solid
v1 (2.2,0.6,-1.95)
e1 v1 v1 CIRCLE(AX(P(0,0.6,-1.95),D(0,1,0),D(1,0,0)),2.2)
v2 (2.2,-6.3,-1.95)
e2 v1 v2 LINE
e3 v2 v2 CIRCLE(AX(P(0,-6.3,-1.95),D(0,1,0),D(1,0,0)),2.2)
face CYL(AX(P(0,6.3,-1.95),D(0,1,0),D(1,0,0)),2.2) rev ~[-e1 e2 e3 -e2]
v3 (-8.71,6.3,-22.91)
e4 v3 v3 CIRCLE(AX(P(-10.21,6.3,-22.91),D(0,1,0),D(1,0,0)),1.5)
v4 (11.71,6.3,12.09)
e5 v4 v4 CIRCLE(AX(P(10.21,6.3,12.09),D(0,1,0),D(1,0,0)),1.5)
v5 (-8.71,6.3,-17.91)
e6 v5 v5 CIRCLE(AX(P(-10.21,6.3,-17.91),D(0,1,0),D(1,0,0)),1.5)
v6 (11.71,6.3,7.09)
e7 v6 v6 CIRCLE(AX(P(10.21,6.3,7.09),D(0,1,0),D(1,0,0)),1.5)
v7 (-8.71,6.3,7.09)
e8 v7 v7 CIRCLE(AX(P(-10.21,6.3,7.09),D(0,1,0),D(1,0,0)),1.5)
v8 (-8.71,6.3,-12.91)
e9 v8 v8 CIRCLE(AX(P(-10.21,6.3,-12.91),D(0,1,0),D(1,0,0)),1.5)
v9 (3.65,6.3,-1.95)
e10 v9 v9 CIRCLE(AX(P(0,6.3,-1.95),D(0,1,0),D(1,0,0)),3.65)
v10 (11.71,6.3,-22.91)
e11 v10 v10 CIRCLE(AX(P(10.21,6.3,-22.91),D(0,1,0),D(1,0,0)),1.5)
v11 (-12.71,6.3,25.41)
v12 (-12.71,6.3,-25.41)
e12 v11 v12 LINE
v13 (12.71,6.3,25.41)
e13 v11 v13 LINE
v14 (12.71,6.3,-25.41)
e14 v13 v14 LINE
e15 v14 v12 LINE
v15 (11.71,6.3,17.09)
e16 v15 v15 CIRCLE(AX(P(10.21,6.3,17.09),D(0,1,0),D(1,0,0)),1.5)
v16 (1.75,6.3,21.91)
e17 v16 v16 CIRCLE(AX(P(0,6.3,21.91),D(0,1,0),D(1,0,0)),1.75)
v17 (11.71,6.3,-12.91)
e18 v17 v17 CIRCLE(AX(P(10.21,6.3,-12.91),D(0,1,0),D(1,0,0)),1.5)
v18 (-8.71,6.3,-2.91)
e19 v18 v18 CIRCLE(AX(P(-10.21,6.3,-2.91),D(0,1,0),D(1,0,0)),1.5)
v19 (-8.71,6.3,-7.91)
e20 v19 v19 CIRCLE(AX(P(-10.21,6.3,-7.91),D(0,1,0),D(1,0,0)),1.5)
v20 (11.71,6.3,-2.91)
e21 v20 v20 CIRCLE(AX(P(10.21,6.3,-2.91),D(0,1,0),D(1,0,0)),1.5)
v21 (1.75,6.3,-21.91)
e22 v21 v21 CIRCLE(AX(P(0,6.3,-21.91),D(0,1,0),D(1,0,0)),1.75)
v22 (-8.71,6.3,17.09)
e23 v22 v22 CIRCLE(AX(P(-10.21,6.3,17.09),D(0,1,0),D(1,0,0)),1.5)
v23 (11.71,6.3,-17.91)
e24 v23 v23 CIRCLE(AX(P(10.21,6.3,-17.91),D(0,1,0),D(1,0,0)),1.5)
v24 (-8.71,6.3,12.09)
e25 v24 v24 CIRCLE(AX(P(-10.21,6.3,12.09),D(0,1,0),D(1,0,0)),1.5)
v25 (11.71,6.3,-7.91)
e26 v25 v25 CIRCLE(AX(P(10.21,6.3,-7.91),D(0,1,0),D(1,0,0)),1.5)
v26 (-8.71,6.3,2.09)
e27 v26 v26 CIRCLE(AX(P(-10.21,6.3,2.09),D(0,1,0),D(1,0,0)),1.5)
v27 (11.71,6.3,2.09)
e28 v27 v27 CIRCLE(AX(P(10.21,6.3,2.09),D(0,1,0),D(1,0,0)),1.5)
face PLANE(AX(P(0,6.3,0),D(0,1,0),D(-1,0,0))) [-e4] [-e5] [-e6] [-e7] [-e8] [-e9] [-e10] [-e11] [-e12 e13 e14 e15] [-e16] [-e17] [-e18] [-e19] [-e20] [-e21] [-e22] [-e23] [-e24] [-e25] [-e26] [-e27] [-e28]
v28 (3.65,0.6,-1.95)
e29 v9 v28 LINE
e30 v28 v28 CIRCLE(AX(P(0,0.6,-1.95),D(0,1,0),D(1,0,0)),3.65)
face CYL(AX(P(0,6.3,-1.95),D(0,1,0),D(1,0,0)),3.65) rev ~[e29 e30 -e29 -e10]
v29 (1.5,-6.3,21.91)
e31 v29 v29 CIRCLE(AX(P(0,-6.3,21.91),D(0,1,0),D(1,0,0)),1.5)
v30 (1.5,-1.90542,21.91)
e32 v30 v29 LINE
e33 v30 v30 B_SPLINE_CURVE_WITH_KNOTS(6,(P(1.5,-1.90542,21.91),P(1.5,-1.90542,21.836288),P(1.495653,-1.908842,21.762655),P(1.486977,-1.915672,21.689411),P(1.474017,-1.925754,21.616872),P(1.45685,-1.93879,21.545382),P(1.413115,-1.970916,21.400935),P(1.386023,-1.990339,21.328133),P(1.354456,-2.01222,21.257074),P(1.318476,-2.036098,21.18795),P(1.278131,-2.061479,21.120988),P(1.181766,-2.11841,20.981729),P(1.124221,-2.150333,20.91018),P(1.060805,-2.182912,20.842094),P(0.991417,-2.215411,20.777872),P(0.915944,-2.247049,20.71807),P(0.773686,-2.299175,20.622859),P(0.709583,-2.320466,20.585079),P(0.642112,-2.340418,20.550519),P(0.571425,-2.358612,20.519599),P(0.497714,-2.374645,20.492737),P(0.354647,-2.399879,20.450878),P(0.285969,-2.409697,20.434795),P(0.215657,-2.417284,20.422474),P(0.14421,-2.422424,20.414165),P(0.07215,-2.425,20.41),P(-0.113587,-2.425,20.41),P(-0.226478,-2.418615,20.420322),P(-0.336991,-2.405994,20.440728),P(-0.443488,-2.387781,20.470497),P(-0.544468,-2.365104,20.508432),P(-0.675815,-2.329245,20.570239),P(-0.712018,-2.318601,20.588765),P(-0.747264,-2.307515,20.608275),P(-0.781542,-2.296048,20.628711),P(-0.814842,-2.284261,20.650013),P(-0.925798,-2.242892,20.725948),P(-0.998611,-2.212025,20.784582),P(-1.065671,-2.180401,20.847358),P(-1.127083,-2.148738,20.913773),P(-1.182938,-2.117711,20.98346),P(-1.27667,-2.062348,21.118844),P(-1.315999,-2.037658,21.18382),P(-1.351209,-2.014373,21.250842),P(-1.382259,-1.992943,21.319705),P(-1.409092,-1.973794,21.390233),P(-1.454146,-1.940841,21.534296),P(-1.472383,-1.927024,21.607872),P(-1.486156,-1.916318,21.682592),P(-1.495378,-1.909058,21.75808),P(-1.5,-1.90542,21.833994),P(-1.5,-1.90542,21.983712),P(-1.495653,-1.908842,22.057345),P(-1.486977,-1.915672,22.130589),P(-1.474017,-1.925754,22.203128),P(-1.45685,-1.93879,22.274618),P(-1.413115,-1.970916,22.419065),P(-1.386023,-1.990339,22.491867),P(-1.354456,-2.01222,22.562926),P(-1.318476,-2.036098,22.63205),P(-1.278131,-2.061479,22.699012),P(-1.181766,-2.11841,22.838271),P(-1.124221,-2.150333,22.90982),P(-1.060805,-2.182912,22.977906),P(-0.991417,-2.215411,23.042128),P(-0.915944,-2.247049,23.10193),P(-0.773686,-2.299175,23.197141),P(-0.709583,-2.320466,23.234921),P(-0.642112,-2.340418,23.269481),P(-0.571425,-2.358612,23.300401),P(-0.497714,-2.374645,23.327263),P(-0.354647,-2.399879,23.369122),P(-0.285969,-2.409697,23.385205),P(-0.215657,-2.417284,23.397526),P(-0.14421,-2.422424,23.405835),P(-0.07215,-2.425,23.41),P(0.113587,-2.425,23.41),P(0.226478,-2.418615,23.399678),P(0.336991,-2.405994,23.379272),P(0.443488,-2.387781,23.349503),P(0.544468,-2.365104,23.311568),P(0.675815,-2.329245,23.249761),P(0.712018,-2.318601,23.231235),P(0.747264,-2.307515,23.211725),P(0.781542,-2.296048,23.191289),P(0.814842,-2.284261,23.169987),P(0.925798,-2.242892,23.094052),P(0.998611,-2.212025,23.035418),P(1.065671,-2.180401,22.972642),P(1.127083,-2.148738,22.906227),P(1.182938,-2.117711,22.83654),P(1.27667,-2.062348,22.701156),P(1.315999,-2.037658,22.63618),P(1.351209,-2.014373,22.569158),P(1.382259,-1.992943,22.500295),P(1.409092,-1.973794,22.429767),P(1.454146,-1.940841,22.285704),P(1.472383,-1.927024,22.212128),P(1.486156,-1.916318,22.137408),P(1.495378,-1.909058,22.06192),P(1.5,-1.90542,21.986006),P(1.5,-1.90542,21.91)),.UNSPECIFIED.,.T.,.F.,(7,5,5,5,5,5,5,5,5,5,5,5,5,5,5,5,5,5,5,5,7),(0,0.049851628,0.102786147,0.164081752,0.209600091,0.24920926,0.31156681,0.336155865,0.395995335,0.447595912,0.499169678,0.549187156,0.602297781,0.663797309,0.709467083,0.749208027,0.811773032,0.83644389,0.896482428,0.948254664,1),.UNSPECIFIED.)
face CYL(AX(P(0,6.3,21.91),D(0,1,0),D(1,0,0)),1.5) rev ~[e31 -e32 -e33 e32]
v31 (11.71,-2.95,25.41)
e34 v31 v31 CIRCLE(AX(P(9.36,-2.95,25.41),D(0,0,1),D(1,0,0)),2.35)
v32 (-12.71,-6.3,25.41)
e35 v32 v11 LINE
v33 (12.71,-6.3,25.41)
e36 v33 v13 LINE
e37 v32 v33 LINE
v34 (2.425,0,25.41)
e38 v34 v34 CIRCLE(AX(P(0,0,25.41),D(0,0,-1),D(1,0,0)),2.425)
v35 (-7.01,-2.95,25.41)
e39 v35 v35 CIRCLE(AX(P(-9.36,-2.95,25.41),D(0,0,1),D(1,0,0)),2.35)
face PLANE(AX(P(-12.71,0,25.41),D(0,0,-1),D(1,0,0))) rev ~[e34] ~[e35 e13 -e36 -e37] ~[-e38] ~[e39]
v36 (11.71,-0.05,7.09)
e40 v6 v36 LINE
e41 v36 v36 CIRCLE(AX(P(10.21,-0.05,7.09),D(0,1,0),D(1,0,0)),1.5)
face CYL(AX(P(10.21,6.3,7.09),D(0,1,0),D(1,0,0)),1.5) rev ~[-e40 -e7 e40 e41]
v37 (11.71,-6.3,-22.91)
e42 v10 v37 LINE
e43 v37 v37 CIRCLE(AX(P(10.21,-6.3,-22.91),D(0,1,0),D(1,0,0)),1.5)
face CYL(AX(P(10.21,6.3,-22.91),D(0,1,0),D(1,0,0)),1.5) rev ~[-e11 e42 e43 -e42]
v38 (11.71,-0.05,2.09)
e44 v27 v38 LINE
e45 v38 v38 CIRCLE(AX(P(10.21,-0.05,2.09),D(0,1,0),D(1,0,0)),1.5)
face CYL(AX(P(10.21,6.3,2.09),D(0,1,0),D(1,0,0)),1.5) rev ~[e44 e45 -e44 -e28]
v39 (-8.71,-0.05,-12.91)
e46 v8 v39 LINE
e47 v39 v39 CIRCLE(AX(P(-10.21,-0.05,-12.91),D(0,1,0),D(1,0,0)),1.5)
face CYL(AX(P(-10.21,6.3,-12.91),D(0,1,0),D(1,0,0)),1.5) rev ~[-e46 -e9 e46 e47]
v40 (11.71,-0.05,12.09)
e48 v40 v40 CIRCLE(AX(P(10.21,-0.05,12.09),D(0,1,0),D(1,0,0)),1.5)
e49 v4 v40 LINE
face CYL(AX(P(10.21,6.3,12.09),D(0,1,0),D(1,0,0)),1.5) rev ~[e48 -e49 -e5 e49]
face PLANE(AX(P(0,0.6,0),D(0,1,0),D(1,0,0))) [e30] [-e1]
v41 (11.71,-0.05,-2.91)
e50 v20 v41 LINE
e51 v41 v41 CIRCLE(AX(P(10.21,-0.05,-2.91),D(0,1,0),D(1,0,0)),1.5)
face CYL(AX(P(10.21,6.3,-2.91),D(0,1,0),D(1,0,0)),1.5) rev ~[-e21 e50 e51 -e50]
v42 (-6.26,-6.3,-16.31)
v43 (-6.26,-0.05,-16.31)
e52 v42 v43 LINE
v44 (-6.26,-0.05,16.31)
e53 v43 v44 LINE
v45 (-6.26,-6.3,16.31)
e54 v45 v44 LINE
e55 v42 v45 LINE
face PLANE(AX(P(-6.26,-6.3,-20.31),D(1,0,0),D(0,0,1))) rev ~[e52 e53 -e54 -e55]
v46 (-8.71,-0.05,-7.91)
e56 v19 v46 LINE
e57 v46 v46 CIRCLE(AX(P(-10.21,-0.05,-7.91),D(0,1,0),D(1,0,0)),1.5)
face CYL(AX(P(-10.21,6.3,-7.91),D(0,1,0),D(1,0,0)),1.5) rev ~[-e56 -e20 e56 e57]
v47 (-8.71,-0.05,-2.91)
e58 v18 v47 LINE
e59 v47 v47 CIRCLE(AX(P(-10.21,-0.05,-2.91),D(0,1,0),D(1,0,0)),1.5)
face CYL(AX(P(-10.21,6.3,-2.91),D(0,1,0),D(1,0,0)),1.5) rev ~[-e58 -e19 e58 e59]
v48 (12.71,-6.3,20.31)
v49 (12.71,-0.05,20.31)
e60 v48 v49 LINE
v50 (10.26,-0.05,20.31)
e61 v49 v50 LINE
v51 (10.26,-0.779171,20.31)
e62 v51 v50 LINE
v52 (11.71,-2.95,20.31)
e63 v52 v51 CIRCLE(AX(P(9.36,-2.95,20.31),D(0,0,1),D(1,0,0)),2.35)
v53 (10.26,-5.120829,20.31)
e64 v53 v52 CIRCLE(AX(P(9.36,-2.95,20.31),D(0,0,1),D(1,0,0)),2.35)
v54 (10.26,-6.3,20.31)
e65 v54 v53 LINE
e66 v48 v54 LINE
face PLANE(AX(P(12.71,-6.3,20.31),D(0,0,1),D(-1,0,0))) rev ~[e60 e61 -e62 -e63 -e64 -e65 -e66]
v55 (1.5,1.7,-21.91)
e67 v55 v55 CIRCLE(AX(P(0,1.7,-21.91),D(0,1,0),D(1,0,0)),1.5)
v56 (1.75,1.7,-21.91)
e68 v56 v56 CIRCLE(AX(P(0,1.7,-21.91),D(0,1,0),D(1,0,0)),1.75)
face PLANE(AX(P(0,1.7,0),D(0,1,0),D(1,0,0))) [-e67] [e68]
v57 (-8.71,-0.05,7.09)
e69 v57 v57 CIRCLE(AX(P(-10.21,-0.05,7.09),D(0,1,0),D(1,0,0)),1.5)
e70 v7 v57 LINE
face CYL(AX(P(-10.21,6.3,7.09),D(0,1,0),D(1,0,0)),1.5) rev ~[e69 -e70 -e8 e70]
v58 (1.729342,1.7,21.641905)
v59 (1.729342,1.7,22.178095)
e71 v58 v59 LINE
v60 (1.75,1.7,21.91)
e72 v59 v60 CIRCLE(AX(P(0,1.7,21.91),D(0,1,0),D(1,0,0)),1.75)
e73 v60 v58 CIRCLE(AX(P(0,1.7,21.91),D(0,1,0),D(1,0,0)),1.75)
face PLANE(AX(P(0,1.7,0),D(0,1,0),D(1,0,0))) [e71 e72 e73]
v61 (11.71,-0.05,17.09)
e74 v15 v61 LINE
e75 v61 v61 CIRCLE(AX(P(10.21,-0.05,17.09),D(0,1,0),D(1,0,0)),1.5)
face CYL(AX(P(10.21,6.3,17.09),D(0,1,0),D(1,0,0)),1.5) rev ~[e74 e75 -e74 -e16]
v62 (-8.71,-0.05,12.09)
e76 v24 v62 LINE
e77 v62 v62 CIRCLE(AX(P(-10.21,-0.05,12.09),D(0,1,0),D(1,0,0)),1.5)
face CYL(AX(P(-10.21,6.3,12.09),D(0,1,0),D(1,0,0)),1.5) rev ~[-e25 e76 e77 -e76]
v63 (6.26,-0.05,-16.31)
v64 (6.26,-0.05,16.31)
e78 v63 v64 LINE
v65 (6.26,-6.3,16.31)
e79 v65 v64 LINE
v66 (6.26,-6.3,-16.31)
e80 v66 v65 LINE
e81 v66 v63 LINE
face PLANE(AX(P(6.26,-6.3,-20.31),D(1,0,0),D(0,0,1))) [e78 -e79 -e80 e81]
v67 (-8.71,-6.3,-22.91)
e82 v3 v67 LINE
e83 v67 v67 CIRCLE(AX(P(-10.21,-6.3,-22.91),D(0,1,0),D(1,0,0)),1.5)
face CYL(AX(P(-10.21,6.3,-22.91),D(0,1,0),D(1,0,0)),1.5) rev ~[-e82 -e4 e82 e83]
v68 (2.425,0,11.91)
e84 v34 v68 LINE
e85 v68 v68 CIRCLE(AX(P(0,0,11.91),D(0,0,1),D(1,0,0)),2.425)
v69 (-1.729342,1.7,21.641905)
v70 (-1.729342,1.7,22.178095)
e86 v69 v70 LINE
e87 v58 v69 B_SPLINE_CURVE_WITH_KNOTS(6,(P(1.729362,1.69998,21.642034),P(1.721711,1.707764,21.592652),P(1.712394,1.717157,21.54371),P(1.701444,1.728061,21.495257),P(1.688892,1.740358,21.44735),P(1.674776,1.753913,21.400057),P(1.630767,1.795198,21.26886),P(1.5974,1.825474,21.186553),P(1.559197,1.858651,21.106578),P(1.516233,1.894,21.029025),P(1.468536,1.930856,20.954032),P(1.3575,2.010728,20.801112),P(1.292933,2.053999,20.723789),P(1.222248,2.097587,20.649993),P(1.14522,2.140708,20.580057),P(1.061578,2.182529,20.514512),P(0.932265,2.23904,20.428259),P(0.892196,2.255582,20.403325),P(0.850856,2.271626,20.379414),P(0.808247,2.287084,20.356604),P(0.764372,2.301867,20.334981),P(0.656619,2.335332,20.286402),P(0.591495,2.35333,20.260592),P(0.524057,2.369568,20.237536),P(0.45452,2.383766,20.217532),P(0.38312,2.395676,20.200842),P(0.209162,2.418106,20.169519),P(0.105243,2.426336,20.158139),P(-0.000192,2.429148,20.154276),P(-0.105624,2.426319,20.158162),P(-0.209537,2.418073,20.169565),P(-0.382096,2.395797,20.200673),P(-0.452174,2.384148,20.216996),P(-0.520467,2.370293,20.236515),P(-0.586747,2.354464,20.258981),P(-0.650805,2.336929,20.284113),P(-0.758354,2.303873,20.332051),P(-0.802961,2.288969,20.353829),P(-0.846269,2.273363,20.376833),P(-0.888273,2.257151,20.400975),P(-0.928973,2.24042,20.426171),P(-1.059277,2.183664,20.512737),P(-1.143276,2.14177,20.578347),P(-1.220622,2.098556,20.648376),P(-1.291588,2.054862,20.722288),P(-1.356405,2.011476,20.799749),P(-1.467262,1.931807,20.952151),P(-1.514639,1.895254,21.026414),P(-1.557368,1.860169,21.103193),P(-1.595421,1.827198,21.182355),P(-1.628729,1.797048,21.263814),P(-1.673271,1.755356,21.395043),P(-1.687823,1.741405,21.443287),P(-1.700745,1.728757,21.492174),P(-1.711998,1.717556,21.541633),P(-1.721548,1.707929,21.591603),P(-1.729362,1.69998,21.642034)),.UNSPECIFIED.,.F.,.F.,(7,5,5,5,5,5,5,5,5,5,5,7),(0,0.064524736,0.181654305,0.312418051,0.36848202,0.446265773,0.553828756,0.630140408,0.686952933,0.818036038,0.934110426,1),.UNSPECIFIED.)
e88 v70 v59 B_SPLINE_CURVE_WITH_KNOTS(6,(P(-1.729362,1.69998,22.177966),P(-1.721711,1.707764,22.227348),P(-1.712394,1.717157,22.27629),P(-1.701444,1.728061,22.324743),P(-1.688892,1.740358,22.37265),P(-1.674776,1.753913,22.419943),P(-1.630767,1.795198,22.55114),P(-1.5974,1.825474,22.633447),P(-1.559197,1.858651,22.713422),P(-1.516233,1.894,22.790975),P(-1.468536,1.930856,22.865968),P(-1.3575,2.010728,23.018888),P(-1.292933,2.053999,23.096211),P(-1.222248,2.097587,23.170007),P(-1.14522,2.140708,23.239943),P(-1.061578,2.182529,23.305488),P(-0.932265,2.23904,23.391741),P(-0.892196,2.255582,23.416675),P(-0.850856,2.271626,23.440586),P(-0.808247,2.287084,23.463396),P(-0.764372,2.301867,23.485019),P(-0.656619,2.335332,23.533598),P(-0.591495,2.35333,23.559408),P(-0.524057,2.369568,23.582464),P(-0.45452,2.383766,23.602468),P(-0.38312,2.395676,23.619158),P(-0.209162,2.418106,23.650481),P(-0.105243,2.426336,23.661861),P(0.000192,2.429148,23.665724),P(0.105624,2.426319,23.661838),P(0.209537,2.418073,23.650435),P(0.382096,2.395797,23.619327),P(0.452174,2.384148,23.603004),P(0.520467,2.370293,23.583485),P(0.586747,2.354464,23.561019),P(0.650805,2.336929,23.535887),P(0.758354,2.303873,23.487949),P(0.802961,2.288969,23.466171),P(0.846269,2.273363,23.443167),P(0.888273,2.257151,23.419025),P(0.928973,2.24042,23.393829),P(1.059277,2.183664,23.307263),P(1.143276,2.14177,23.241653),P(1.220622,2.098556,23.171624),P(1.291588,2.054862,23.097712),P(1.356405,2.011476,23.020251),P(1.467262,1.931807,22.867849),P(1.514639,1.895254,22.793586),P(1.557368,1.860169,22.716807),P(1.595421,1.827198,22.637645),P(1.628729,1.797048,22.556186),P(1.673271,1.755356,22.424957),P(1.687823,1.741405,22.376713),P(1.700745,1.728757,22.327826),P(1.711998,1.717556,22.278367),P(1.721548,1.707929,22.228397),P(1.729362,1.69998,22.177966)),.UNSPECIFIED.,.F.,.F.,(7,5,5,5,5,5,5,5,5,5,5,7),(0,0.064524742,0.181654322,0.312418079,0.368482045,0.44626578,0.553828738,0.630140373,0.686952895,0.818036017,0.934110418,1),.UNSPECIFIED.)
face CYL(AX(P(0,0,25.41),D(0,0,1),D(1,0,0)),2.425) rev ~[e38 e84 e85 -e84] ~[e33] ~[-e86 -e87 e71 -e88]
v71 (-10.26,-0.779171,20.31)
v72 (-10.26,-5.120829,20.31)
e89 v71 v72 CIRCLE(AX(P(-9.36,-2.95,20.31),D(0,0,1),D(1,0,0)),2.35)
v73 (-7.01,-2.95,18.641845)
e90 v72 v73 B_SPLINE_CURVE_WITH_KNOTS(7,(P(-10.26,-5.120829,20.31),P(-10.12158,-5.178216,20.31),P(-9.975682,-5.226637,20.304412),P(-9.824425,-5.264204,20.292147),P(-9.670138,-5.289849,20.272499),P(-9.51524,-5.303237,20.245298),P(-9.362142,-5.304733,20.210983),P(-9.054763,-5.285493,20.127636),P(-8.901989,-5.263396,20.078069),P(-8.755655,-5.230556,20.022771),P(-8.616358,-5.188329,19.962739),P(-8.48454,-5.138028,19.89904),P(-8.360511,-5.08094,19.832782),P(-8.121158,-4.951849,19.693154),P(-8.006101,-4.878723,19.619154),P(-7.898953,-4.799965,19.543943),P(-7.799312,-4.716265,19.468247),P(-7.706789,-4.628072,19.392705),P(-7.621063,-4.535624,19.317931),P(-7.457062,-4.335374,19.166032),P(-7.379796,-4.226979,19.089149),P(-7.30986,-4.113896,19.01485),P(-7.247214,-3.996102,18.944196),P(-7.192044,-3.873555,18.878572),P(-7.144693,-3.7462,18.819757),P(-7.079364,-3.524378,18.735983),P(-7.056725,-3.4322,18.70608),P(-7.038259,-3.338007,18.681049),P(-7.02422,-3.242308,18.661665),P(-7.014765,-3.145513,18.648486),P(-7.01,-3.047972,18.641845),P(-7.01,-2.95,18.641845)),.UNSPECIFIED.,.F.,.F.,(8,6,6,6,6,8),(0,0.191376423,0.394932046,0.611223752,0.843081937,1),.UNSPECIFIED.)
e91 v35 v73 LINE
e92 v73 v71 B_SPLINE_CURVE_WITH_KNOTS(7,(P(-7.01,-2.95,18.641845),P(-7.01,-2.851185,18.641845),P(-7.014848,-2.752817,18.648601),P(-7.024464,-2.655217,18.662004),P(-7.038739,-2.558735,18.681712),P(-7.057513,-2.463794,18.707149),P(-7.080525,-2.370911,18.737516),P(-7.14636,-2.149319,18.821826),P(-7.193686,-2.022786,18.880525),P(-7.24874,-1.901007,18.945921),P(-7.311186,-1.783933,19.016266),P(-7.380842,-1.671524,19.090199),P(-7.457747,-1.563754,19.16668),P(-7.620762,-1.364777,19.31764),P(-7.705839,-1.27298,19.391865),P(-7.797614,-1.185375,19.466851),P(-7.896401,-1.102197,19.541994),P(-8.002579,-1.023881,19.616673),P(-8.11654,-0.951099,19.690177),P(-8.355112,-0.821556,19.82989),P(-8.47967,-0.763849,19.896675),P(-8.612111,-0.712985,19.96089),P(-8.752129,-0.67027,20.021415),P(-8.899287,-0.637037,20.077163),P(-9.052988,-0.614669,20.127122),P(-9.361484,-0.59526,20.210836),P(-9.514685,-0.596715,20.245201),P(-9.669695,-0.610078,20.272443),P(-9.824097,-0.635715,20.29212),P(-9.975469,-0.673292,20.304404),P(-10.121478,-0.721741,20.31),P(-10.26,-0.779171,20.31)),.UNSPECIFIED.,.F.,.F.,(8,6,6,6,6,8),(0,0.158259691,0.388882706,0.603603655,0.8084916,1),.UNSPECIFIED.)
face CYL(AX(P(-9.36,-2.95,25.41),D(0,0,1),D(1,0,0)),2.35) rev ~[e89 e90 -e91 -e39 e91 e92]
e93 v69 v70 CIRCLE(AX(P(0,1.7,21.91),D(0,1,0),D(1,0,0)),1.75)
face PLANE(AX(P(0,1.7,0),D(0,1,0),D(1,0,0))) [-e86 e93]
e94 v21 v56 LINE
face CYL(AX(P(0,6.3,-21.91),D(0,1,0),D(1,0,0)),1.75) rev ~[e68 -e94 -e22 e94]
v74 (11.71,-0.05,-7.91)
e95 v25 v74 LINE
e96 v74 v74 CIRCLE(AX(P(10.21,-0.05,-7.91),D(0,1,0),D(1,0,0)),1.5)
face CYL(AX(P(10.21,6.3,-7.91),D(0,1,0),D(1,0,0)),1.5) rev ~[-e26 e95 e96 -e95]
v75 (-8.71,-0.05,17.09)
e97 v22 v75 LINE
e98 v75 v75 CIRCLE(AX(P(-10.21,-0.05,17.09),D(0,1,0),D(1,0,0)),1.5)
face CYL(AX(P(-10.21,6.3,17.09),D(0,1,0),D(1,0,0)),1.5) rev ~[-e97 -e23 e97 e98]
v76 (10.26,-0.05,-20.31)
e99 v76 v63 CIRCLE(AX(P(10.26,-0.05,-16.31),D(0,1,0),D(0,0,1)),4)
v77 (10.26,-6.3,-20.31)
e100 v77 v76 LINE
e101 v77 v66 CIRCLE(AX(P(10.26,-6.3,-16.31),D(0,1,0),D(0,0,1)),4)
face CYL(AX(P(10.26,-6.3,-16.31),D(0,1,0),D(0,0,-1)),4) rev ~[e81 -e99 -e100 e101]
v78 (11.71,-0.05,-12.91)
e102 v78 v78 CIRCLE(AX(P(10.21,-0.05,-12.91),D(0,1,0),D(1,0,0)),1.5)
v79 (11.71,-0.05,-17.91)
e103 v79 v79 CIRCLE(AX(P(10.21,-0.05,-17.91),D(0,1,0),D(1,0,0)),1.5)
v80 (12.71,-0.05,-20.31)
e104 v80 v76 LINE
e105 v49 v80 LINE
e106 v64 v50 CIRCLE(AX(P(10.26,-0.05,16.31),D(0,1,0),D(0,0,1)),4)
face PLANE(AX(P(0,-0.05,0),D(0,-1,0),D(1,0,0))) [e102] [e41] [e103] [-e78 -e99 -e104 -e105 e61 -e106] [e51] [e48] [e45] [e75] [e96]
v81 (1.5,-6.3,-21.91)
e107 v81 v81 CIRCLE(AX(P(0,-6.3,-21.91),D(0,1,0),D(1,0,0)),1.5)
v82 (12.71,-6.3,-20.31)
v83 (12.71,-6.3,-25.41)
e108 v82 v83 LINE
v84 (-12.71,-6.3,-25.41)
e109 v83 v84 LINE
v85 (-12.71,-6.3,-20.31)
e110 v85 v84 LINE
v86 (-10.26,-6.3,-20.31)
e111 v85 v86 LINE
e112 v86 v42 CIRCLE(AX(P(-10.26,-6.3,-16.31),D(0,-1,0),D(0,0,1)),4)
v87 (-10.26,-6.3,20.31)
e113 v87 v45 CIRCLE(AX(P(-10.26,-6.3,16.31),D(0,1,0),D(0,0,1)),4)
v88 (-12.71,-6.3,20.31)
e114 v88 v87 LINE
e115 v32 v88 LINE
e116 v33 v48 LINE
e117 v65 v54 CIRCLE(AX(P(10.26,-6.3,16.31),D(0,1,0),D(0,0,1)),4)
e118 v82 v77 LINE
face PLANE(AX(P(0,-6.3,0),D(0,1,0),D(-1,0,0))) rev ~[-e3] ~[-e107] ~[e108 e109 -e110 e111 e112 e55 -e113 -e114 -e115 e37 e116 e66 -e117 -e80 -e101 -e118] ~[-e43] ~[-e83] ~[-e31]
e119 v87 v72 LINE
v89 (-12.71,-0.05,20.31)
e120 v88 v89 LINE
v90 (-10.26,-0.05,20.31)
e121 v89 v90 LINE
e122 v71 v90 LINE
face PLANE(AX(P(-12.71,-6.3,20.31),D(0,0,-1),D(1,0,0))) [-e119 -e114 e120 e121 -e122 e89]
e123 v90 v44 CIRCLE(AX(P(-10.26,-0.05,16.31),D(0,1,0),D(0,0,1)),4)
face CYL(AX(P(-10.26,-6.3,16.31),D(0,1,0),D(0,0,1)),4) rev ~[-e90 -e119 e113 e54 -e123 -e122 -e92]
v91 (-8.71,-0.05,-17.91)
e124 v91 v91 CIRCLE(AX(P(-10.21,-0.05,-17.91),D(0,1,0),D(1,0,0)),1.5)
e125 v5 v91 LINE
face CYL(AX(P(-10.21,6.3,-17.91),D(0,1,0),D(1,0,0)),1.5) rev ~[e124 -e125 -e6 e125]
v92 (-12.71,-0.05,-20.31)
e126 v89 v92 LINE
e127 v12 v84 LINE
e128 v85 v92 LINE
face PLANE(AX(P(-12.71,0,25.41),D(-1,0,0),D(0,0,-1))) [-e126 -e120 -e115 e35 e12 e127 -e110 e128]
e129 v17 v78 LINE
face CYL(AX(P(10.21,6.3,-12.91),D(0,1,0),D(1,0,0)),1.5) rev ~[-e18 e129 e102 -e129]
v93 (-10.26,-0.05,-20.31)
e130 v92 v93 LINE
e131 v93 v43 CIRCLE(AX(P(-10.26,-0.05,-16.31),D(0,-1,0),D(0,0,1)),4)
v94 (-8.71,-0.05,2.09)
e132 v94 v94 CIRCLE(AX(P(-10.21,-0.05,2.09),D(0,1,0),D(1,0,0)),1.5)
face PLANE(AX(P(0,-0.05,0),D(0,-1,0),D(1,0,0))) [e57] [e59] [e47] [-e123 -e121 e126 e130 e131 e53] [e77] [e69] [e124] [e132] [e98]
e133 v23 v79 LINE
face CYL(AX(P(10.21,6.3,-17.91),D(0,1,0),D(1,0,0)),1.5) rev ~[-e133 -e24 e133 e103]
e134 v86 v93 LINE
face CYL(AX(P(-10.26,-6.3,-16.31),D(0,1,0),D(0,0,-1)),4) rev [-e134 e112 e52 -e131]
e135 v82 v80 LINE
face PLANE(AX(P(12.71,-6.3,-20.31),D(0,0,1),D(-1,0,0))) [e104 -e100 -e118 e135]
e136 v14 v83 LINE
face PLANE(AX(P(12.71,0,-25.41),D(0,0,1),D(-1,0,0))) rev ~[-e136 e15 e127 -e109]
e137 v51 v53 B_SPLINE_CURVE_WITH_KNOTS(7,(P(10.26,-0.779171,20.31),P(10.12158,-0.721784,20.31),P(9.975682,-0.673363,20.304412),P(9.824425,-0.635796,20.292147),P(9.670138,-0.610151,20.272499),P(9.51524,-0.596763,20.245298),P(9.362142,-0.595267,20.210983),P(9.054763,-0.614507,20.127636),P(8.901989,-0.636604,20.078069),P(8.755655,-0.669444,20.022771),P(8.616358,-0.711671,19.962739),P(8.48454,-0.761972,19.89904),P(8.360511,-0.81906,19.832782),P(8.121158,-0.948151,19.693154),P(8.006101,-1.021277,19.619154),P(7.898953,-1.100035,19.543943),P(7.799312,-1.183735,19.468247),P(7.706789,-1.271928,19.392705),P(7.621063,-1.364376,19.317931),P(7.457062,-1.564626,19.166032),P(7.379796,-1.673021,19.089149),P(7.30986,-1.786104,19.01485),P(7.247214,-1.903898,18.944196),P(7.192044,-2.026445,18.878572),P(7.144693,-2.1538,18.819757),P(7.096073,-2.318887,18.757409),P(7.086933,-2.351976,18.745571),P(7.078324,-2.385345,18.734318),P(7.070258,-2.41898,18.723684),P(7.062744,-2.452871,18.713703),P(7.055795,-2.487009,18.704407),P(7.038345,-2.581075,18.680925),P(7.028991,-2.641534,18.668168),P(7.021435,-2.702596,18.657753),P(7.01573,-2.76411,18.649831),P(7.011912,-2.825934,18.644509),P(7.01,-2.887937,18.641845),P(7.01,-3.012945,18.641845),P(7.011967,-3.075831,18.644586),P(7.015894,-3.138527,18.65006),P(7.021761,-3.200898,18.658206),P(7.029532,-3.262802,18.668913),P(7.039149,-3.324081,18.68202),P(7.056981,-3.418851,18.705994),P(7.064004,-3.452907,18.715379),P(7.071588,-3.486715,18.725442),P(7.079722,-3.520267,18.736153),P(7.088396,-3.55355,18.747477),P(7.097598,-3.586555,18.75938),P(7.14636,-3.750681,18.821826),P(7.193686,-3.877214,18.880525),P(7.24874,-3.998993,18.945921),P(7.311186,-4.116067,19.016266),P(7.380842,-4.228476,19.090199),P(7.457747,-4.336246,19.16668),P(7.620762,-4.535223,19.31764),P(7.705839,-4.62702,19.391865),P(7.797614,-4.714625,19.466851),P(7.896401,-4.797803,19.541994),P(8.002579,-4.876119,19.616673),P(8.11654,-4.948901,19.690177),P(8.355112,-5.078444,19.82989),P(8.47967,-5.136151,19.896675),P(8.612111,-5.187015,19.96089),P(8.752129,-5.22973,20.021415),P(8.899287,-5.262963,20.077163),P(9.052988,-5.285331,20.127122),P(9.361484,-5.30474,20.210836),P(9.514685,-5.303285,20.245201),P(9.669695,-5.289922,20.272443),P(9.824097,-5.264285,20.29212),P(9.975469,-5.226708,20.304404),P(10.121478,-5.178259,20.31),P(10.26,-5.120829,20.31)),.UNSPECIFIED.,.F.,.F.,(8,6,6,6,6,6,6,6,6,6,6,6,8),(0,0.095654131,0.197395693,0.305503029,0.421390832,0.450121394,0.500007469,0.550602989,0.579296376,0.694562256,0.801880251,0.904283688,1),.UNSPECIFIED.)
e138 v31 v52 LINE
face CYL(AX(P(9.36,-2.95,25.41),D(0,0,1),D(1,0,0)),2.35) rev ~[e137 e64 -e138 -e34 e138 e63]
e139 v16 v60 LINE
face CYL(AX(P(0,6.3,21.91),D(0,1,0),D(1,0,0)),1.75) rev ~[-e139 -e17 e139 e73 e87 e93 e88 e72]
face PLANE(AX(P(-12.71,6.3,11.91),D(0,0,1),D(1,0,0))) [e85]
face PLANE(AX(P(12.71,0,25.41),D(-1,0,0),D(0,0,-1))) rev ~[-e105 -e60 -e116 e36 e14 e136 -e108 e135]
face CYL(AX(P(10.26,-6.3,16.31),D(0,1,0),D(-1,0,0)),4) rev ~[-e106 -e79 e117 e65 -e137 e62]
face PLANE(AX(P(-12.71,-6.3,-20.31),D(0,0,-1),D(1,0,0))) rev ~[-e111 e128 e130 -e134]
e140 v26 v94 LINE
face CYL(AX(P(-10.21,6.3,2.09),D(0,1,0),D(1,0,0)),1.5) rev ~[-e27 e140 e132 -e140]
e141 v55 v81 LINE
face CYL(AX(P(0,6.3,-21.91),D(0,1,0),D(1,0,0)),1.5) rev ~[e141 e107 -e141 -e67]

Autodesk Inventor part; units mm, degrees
ref_plane "YZ Plane" through (0, 0, 0) normal (1, 0, 0) x (0, 1, 0)
ref_plane "XZ Plane" through (0, 0, 0) normal (0, 1, 0) x (-1, 0, 0)
ref_plane "XY Plane" through (0, 0, 0) normal (0, 0, 1) x (1, 0, 0)
sketch "Sketch1" plane through (0, 0, 0) normal (0, 1, 0) x (-1, 0, 0)
  line L0 (0, 0) -> (12.71, 0) construction
  line L1 (12.71, 25.41) -> (-12.71, 25.41)
  line L2 (-12.71, 25.41) -> (-12.71, -25.41)
  line L3 (-12.71, -25.41) -> (12.71, -25.41)
  line L4 (12.71, 25.41) -> (12.71, -25.41)
  dimension "d0" = 12.71
  dimension "d1" = 25.41
  dimension "d2" = 25.42
  dimension "d3" = 50.82
extrude "Extrusion1" add sketch "Sketch1" along normal mid plane 12.6
sketch "Sketch2" plane through (0, -6.3, 0) normal (0, -1, 0) x (1, 0, 0)
  line L0 (12.71, 25.41) -> (12.71, 20.31) construction
  line L1 (12.71, 20.31) -> (6.26, 20.31)
  line L2 (12.71, -25.41) -> (12.71, -20.31) construction
  line L3 (12.71, -20.31) -> (6.26, -20.31)
  line L4 (6.26, -20.31) -> (6.26, 20.31)
  line L5 (12.71, 20.31) -> (12.71, -20.31)
  line L6 (12.71, 25.41) -> (12.71, -25.41) projected
  line L7 (0, 25.41) -> (0, -25.41)
  line L8 (-12.71, 20.31) -> (-6.26, 20.31)
  line L9 (-12.71, -20.31) -> (-6.26, -20.31)
  line L10 (-6.26, -20.31) -> (-6.26, 20.31)
  line L11 (-12.71, 20.31) -> (-12.71, -20.31)
  point P0 (0, 0)
  dimension "d6" = 5.1
  dimension "d7" = 6.45
  dimension "d8" = 5.1
  dimension "d9" = 6.45
extrude "Extrusion2" cut sketch "Sketch2" against normal blind 6.25
fillet "Fillet1" radius 4 4 edges at (6.26, -3.175, 20.31) (6.26, -3.175, -20.31) (-6.26, -3.175, -20.31) (-6.26, -3.175, 20.31)
sketch "Sketch3" plane through (0, 6.3, 0) normal (0, 1, 0) x (1, 0, 0)
  line L0 (-12.71, 25.41) -> (-12.71, 22.91) construction
  line L1 (-12.71, 22.91) -> (-10.21, 22.91) construction
  circle A0 centre (-10.21, 22.91) radius 1.5
  circle A1 centre (-10.21, -17.09) radius 1.5
  circle A2 centre (-10.21, -12.09) radius 1.5
  circle A3 centre (-10.21, -7.09) radius 1.5
  circle A4 centre (-10.21, -2.09) radius 1.5
  circle A5 centre (-10.21, 2.91) radius 1.5
  circle A6 centre (-10.21, 7.91) radius 1.5
  circle A7 centre (-10.21, 12.91) radius 1.5
  circle A8 centre (-10.21, 17.91) radius 1.5
  circle A9 centre (10.21, 22.91) radius 1.5
  circle A10 centre (10.21, -17.09) radius 1.5
  circle A11 centre (10.21, -12.09) radius 1.5
  circle A12 centre (10.21, -7.09) radius 1.5
  circle A13 centre (10.21, -2.09) radius 1.5
  circle A14 centre (10.21, 2.91) radius 1.5
  circle A15 centre (10.21, 7.91) radius 1.5
  circle A16 centre (10.21, 12.91) radius 1.5
  circle A17 centre (10.21, 17.91) radius 1.5
  circle A18 centre (0, 21.91) radius 1.75 construction
  line L2 (0, 0) -> (0, 21.91) construction
  line L3 (0, 0) -> (0, -21.91) construction
  circle A19 centre (0, -21.91) radius 1.75 construction
  circle A20 centre (0, -21.91) radius 1.5
  circle A21 centre (0, 21.91) radius 1.5
  line L4 (0, -21.91) -> (0, 1.95) construction
  circle A22 centre (0, 1.95) radius 2.2
  dimension "d13" = 2.5
  dimension "d15" = 3
  dimension "d25" = 3
  dimension "d26" = 3
  dimension "d27" = 3
  dimension "d28" = 3
  dimension "d29" = 3
  dimension "d30" = 3
  dimension "d31" = 3
  dimension "d32" = 3
  dimension "d33" = 5
  dimension "d35" = 3.5
  dimension "d36" = 21.91
  dimension "d38" = 21.91
  dimension "d39" = 3.5
  dimension "d40" = 3
  dimension "d41" = 3
  dimension "d42" = 23.86
  dimension "d43" = 4.4
extrude "Extrusion3" cut sketch "Sketch3" against normal blind 15.775
sketch "Sketch4" plane through (0, 6.3, 0) normal (0, 1, 0) x (1, 0, 0)
  circle A0 centre (0, -21.91) radius 1.75
  circle A1 centre (0, 21.91) radius 1.75
  point P0 (0, 0)
  dimension "d46" = 3.5
  dimension "d47" = 3.5
extrude "Extrusion4" cut sketch "Sketch4" against normal blind 4.6
sketch "Sketch5" plane through (0, 6.3, 0) normal (0, 1, 0) x (1, 0, 0)
  circle A0 centre (0, 1.95) radius 3.65
  point P0 (0, 0)
  dimension "d50" = 7.3
extrude "Extrusion5" cut sketch "Sketch5" against normal blind 5.7
sketch "Sketch6" plane through (-12.71, 6.3, 25.41) normal (0, 0, 1) x (1, 0, 0)
  line L0 (25.42, -12.6) -> (22.07, -12.6) construction
  line L1 (22.07, -12.6) -> (22.07, -9.25) construction
  circle A0 centre (22.07, -9.25) radius 2.35
  line L2 (12.71, -0.1064) -> (12.71, -12.6)
  circle A1 centre (3.35, -9.25) radius 2.35
  circle A2 centre (12.71, -6.3) radius 2.425
  dimension "d53" = 3.35
  dimension "d54" = 3.35
  dimension "d55" = 4.7
  dimension "d56" = 4.85
extrude "Extrusion6" cut sketch "Sketch6" against normal blind 13.5
properties part number "PocketNC_Vise_part2" material "Aluminum 6061"
